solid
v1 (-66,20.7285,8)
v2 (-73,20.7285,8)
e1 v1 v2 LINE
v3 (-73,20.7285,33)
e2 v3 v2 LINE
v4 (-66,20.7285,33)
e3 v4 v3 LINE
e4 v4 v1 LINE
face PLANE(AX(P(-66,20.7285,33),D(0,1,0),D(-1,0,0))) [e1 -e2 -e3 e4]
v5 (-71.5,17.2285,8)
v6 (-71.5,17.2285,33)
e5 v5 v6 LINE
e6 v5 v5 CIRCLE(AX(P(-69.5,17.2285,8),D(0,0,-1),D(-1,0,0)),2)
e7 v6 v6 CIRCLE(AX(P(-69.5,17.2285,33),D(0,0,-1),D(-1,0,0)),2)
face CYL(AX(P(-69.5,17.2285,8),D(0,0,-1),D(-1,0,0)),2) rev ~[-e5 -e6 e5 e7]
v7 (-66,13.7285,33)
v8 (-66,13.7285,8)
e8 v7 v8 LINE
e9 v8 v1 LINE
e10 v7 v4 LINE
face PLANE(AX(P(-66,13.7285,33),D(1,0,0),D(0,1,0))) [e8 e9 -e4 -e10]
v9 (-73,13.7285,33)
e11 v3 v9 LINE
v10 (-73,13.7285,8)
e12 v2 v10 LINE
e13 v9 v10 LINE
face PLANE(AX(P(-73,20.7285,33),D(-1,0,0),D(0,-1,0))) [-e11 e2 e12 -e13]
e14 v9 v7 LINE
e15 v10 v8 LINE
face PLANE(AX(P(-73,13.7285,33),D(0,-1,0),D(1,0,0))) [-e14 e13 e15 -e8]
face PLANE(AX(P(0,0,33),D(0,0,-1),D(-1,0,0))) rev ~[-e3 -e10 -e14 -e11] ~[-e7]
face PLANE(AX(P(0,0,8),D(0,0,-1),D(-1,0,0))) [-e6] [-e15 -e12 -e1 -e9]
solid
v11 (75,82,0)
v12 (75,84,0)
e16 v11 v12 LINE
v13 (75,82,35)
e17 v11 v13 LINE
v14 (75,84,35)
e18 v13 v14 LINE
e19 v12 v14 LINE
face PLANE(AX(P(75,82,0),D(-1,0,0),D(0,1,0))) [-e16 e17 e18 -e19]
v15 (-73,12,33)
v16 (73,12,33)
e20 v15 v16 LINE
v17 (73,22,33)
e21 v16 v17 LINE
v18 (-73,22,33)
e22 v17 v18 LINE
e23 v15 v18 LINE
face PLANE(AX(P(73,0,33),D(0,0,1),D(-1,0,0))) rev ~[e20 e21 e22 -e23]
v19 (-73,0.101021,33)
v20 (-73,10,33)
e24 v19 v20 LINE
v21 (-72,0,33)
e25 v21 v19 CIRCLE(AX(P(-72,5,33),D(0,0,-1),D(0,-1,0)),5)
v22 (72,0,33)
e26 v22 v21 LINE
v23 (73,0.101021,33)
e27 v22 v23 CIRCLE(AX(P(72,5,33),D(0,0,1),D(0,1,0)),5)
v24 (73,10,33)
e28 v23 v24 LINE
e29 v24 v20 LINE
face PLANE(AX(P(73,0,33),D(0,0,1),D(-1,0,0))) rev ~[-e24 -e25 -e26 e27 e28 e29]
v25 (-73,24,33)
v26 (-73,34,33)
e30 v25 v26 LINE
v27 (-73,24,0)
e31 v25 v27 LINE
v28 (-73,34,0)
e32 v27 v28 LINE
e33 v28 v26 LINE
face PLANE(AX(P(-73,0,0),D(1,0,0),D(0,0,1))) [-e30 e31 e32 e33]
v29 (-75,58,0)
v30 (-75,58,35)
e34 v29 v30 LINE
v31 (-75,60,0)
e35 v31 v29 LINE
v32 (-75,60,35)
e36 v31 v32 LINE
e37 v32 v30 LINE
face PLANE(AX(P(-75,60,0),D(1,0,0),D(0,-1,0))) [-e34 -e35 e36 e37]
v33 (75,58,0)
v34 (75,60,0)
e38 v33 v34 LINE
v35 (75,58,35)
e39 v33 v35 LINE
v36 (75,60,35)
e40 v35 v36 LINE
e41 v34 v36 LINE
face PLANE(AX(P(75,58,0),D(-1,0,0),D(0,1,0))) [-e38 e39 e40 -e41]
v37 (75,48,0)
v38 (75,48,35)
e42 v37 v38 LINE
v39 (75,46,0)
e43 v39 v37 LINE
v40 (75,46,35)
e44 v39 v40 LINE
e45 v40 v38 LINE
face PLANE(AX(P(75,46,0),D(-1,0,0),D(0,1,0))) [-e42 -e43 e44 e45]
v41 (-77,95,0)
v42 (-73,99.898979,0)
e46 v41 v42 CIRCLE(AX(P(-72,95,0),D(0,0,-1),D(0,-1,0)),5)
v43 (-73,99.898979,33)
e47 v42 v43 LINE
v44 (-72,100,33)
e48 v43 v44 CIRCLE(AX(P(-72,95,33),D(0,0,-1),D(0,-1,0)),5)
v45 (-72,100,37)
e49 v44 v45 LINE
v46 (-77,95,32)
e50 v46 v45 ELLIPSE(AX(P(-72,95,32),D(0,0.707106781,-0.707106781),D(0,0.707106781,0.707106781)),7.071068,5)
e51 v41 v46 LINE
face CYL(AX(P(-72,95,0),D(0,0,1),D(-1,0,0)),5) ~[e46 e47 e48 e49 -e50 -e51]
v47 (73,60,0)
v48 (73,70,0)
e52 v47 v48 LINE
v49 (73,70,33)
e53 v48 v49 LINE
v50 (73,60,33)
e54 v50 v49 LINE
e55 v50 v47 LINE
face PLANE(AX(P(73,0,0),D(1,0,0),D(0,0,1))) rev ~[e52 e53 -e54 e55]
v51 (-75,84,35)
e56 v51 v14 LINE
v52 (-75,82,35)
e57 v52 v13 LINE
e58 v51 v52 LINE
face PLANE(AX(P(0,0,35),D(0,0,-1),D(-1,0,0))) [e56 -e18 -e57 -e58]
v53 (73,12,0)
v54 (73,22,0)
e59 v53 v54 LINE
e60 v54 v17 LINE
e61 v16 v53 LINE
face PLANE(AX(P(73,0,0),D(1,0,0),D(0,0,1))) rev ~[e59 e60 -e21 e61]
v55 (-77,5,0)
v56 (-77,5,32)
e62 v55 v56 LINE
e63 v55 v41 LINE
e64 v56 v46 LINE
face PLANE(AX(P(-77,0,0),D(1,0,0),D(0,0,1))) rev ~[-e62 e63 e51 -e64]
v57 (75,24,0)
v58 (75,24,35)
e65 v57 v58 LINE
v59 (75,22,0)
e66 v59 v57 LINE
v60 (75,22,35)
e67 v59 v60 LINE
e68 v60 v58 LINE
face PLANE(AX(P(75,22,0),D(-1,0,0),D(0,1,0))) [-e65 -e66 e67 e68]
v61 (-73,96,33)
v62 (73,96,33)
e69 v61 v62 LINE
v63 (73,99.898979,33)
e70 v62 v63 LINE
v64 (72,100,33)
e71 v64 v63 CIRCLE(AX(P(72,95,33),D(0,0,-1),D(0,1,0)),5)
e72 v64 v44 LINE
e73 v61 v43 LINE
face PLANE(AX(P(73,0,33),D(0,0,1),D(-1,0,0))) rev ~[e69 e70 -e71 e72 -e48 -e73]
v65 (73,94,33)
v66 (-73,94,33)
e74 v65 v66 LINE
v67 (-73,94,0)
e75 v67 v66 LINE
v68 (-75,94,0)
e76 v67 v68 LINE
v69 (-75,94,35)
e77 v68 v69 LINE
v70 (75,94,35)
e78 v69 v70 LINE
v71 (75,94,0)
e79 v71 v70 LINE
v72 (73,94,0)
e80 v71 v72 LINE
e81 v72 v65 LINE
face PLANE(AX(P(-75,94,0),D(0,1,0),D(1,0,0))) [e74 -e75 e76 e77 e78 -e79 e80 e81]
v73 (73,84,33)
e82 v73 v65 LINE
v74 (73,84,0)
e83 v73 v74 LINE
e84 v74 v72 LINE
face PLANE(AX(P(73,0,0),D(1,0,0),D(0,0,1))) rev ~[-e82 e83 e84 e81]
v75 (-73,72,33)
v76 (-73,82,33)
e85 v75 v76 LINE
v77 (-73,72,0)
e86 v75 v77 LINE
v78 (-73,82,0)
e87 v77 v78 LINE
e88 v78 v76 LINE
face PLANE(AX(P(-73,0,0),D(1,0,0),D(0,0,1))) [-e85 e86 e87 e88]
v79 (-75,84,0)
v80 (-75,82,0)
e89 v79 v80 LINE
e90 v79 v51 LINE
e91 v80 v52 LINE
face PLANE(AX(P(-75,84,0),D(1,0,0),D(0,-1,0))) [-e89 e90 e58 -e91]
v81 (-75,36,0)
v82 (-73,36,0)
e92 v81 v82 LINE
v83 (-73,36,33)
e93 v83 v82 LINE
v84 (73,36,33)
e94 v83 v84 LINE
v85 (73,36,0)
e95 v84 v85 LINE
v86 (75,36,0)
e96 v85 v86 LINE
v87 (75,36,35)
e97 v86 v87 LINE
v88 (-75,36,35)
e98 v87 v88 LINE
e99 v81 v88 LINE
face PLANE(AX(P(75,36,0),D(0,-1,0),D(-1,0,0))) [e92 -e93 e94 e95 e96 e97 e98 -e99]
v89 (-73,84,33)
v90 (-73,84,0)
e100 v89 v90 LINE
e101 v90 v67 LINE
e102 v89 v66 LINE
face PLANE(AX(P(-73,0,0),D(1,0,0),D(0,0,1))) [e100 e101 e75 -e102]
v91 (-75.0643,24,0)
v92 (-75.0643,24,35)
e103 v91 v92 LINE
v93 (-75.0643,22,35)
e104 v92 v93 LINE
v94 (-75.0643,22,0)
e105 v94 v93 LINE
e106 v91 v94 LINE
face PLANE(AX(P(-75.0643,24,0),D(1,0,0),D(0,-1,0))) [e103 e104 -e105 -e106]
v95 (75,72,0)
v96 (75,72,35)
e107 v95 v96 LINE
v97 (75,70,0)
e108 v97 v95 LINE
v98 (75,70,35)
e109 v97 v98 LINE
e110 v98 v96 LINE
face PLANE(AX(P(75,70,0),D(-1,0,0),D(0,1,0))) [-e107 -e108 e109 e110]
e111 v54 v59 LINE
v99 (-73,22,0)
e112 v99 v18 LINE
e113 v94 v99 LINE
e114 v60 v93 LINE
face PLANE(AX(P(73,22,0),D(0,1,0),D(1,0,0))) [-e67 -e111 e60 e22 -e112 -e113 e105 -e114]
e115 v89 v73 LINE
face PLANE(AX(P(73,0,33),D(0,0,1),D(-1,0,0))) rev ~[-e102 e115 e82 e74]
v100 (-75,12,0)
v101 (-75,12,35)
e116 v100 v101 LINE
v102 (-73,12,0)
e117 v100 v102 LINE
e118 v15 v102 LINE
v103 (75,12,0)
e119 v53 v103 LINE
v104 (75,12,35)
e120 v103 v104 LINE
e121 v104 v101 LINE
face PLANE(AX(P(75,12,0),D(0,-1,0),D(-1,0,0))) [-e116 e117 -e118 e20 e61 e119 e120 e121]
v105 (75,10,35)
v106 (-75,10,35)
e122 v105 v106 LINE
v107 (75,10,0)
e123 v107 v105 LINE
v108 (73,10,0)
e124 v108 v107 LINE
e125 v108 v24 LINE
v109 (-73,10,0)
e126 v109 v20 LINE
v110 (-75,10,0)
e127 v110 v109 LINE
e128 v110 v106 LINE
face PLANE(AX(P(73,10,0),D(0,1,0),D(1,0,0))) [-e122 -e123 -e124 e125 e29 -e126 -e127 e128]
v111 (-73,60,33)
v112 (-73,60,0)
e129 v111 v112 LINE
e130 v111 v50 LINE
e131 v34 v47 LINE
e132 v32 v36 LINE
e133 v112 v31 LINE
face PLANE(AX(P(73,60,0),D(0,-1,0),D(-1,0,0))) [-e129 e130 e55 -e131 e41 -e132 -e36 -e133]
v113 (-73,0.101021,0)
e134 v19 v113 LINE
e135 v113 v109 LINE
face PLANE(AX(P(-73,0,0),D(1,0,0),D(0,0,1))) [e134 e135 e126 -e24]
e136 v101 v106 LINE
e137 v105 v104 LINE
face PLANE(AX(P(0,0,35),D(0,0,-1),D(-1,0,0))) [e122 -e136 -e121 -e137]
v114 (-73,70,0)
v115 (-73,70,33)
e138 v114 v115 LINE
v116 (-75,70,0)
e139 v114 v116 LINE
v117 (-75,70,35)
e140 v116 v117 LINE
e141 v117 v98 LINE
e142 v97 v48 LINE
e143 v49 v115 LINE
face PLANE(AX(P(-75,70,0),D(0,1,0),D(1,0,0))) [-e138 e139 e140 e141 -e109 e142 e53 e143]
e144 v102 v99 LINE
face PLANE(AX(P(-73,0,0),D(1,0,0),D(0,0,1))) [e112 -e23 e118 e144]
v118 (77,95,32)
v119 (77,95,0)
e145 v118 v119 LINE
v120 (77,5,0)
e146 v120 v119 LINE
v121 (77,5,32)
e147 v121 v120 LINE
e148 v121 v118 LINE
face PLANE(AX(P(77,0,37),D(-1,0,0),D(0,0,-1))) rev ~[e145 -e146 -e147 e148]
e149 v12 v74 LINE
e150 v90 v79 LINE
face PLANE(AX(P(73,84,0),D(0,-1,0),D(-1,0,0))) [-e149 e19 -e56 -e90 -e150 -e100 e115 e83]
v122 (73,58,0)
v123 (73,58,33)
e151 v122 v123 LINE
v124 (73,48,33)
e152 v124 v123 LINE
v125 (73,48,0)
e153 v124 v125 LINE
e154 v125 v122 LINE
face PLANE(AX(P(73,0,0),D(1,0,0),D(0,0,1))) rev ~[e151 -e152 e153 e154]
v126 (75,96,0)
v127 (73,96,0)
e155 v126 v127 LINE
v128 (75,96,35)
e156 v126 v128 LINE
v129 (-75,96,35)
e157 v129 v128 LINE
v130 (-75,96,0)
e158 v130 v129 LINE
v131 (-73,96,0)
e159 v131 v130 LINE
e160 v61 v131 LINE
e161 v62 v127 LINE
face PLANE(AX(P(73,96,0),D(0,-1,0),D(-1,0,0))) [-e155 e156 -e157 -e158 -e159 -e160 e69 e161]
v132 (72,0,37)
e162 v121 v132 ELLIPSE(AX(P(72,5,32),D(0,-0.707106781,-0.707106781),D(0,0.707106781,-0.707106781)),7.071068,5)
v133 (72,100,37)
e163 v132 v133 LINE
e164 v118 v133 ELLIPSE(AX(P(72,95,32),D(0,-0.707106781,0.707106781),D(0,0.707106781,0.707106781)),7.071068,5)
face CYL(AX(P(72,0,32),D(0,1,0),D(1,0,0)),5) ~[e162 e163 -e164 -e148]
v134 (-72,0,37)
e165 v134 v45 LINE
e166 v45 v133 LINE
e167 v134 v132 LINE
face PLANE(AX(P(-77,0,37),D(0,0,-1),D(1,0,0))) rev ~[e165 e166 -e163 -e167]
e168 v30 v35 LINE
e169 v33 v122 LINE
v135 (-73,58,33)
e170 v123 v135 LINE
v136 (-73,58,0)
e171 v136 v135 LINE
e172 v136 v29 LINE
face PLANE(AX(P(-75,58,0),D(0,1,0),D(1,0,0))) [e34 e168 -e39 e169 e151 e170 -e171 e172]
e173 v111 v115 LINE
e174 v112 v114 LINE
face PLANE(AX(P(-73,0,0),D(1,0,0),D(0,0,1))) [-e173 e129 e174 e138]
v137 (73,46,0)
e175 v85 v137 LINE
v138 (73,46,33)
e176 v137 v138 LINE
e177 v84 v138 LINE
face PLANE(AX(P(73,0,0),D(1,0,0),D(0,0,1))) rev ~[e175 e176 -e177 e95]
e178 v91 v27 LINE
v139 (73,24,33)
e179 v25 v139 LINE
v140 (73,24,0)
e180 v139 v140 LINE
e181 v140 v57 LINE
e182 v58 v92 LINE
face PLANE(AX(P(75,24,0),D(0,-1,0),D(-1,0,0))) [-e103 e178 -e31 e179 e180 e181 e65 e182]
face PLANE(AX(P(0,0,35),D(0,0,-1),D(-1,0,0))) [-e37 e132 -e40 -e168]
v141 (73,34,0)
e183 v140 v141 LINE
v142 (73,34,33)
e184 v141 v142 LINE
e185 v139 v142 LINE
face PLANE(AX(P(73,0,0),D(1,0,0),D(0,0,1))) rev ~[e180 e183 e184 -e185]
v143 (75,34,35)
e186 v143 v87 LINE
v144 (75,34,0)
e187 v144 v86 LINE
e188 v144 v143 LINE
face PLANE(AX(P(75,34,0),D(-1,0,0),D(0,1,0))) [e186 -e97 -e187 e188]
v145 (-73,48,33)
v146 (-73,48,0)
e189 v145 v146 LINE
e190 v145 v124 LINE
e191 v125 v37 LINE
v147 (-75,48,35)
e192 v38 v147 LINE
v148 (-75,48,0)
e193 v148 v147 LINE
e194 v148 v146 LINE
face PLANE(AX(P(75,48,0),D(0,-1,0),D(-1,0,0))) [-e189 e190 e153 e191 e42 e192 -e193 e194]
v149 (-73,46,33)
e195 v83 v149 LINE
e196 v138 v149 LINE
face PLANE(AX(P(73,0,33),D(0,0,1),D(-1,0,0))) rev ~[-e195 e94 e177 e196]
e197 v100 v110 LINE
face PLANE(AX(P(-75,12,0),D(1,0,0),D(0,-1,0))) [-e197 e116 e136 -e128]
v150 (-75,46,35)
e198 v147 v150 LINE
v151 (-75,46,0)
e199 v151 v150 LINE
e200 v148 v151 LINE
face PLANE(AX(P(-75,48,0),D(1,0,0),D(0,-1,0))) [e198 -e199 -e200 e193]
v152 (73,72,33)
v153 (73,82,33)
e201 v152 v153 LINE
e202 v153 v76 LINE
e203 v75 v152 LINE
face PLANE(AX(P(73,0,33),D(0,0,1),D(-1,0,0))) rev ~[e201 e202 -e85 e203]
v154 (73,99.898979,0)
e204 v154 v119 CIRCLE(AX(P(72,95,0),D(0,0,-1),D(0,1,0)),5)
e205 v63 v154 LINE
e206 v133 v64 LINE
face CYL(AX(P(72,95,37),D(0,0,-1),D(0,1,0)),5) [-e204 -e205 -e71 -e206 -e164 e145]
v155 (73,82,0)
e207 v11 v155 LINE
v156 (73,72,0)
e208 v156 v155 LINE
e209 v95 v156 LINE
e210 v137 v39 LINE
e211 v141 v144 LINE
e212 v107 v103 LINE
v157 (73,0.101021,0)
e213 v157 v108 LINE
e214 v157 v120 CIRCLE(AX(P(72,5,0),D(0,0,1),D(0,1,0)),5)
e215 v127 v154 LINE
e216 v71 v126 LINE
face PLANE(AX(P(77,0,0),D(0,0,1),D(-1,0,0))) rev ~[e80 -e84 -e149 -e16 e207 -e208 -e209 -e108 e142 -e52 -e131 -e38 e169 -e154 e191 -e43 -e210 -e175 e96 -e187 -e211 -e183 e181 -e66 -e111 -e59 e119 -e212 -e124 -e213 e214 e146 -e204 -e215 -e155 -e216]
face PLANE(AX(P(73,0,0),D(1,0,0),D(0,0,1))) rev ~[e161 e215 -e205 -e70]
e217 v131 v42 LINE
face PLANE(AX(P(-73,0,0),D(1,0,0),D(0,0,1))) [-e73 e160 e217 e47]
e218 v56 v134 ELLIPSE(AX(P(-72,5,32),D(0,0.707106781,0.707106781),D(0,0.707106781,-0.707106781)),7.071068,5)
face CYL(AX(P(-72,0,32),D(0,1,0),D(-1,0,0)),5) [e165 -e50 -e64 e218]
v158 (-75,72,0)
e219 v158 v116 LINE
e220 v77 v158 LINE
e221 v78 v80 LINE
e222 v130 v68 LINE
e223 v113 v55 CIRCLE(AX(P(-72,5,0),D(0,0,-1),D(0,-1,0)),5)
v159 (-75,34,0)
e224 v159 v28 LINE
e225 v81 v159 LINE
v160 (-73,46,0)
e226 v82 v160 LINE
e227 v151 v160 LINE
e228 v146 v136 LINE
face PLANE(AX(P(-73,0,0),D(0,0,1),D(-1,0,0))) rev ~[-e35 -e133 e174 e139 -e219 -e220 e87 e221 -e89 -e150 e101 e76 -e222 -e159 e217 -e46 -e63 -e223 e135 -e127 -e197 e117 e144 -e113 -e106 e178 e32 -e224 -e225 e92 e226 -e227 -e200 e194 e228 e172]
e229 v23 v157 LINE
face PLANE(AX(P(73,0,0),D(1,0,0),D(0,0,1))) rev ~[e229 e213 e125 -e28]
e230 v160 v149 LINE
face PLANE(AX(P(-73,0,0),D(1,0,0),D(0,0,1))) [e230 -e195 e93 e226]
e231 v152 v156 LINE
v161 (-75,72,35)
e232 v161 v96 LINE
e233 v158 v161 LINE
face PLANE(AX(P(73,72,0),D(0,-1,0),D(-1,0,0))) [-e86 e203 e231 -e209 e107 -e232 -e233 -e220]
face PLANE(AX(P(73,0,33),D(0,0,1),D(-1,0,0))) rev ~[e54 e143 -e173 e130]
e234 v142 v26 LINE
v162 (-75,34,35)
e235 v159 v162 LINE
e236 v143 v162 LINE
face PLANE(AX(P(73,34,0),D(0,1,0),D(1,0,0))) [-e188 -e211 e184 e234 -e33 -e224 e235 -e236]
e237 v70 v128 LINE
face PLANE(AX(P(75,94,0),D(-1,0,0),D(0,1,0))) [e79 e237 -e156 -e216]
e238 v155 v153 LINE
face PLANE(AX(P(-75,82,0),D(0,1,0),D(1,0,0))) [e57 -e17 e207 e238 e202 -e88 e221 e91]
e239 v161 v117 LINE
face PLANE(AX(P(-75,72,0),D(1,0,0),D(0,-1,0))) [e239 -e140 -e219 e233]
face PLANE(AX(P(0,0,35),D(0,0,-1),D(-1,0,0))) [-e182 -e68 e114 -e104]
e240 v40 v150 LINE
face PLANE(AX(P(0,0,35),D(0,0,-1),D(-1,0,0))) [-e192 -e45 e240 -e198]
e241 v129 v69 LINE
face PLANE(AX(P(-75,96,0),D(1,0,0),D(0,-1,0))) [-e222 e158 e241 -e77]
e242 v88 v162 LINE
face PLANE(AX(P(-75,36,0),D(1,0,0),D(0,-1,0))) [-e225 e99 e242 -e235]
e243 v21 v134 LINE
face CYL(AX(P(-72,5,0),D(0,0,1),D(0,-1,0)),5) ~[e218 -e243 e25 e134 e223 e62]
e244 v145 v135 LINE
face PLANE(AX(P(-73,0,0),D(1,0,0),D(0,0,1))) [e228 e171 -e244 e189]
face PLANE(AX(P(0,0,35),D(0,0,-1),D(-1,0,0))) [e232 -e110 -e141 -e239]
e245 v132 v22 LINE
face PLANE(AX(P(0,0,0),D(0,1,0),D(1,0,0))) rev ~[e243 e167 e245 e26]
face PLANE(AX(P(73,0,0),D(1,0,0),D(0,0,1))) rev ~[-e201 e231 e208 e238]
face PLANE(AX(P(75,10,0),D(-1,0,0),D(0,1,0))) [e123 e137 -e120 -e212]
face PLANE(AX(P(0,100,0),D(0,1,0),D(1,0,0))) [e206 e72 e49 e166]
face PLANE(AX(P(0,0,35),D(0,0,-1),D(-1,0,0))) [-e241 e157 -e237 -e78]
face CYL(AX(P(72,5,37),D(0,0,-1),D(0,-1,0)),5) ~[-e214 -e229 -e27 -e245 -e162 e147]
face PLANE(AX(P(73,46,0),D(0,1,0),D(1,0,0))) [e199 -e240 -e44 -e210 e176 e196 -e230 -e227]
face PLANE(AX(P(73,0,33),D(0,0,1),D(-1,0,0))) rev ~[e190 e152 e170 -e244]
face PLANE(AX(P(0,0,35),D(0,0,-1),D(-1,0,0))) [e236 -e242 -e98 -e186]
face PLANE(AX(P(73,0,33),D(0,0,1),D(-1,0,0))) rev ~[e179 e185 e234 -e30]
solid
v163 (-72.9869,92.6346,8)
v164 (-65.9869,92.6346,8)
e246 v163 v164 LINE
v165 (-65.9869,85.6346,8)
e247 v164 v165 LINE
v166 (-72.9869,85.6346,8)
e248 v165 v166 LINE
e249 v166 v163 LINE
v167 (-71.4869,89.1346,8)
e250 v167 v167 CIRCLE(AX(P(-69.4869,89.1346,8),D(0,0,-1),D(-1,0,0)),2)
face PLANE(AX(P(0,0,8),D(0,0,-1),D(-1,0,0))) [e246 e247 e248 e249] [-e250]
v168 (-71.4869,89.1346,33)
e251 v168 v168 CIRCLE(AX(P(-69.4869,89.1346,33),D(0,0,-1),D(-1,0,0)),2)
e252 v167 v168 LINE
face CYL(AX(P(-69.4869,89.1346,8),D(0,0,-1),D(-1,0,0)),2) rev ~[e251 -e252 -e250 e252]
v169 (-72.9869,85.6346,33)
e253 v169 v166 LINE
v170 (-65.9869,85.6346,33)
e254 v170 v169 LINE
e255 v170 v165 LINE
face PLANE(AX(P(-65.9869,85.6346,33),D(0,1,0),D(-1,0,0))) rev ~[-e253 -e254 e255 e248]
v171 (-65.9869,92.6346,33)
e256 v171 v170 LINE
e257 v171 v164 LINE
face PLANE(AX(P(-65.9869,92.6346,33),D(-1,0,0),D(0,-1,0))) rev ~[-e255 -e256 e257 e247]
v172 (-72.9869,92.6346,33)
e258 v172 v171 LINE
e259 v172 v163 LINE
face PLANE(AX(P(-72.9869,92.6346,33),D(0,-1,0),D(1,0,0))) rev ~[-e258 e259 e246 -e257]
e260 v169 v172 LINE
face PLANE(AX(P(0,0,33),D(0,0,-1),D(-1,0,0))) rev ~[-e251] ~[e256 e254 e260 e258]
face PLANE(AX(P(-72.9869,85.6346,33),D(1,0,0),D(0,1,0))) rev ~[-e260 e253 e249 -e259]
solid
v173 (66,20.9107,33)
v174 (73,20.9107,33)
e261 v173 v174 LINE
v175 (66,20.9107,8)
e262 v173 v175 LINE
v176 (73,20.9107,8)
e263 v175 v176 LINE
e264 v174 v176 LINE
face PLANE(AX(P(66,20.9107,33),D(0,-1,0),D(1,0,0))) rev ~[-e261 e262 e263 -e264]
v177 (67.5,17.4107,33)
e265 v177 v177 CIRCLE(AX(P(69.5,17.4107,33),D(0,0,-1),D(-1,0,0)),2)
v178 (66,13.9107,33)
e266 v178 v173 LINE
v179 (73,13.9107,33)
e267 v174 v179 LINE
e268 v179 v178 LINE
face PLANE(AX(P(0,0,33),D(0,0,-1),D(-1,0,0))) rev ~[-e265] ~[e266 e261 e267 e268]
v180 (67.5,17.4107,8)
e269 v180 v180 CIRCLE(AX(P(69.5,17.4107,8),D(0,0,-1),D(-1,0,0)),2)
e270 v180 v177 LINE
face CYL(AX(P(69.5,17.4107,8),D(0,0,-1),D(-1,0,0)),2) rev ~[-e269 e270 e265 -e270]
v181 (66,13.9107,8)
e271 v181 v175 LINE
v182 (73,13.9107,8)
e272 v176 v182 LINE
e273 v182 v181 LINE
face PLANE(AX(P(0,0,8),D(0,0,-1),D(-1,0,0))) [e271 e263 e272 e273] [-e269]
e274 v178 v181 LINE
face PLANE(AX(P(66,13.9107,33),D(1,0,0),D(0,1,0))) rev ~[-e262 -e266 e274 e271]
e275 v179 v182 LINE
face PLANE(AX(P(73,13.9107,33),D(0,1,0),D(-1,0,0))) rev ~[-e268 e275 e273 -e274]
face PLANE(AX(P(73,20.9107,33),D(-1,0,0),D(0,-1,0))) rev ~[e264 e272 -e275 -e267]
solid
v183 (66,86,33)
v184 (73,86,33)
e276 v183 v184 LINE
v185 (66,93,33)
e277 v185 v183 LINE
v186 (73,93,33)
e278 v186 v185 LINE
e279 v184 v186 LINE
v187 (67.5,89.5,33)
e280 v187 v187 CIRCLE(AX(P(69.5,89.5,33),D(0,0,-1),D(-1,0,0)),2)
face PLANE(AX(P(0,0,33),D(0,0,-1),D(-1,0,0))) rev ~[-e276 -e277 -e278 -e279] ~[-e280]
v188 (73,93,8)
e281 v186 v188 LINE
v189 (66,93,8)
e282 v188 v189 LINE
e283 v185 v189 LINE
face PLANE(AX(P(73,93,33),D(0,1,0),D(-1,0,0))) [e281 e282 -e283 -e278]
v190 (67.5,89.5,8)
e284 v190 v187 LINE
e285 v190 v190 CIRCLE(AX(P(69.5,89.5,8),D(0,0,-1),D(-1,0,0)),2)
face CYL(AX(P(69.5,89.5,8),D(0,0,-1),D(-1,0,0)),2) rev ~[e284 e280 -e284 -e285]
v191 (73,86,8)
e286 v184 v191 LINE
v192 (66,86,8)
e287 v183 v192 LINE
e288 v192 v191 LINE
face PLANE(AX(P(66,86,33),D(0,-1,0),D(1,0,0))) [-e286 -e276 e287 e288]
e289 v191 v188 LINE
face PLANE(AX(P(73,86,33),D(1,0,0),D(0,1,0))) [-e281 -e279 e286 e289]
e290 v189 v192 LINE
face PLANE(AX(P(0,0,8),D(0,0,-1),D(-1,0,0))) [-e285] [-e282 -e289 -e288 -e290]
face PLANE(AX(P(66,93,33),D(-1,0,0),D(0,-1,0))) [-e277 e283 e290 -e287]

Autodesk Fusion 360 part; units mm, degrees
sketch "Skizze1" plane through (0, 0, 0) normal (0, 1, 0) x (1, 0, 0)
  line L0 (75, 35) -> (75, -35) construction
  line L1 (75, -35) -> (-75, -35) construction
  line L2 (-75, -35) -> (-75, 35) construction
  line L3 (-75, 35) -> (75, -35) construction
  line L4 (75, 35) -> (-75, -35) construction
  line L5 (73, 33) -> (73, -33) construction
  line L6 (73, -33) -> (-73, -33) construction
  line L7 (-73, -33) -> (-73, 33) construction
  line L8 (-73, 33) -> (73, -33) construction
  line L9 (73, 33) -> (-73, -33) construction
  line L10 (77, 37) -> (77, -37) construction
  line L11 (77, -37) -> (-77, -37) construction
  line L12 (-77, -37) -> (-77, 37) construction
  line L13 (-77, 37) -> (77, -37) construction
  line L14 (77, 37) -> (-77, -37) construction
  line L15 (-77, 0) -> (-77, -37)
  line L16 (-77, -37) -> (77, -37)
  line L17 (77, -37) -> (77, 0)
  line L18 (77, 0) -> (73, 0)
  line L19 (73, -33) -> (-73, -33)
  line L20 (-73, 0) -> (-73, -33)
  line L21 (-73, 0) -> (-77, 0)
  line L22 (73, 0) -> (73, -33)
  dimension "d1" = 150
  dimension "d2" = 70
  dimension "d3" = 146
  dimension "d4" = 66
  dimension "d5" = 154
  dimension "d6" = 74
extrude "Extrusion1" add sketch "Skizze1" along normal blind 100 makes body 1
sketch "Skizze2" plane through (0, 0, 0) normal (0, 0, -1) x (-1, 0, 0)
  line L0 (-77, 0) -> (-73, 0)
  line L1 (-73, 0) -> (-73, 100)
  line L2 (-73, 100) -> (-77, 100)
  line L3 (-77, 100) -> (-77, 0)
  line L4 (-75, 12) -> (75, 12)
  line L5 (75, 12) -> (75, 10)
  line L6 (75, 10) -> (-75, 10)
  line L7 (-75, 10) -> (-75, 12)
  line L8 (-75, 24) -> (75.0643, 24)
  line L9 (75.0643, 24) -> (75.0643, 22)
  line L10 (75.0643, 22) -> (-75, 22)
  line L11 (-75, 22) -> (-75, 24)
  line L12 (-73, 0) -> (73, 0)
  line L13 (-75, 96) -> (75, 96)
  line L14 (75, 96) -> (75, 94)
  line L15 (75, 94) -> (-75, 94)
  line L16 (-75, 94) -> (-75, 96)
  line L17 (-73, 100) -> (73, 100)
  line L18 (75, 34) -> (-75, 34)
  line L19 (-75, 34) -> (-75, 36)
  line L20 (-75, 36) -> (75, 36)
  line L21 (75, 36) -> (75, 34)
  line L22 (75, 46) -> (-75, 46)
  line L23 (-75, 46) -> (-75, 48)
  line L24 (-75, 48) -> (75, 48)
  line L25 (75, 48) -> (75, 46)
  line L26 (75, 58) -> (-75, 58)
  line L27 (-75, 58) -> (-75, 60)
  line L28 (-75, 60) -> (75, 60)
  line L29 (75, 60) -> (75, 58)
  line L30 (75, 70) -> (-75, 70)
  line L31 (-75, 70) -> (-75, 72)
  line L32 (-75, 72) -> (75, 72)
  line L33 (75, 72) -> (75, 70)
  line L34 (75, 82) -> (-75, 82)
  line L35 (-75, 82) -> (-75, 84)
  line L36 (-75, 84) -> (75, 84)
  line L37 (75, 84) -> (75, 82)
  dimension "d11" = 10
  dimension "d12" = 2
  dimension "d14" = 2
  dimension "d45" = 2
  dimension "d46" = 2
  dimension "d47" = 2
  dimension "d48" = 2
  dimension "d49" = 2
  dimension "d50" = 10
  dimension "d51" = 10
  dimension "d52" = 10
  dimension "d53" = 10
  dimension "d54" = 10
  dimension "d55" = 2
  dimension "d57" = 10
  dimension "d59" = 4
extrude "Extrusion4" cut sketch "Skizze2" against normal blind 35 contours L1 L4 L6 L7 | L1 L4 L5 L6 | L1 L13 L14 L15 | L1 L13 L15 L16 | L1 L8 L10 L11 | L1 L8 L9 L10 | L1 L34 L36 L37 | L1 L34 L35 L36 | L1 L18 L19 L20 | L1 L18 L20 L21 | L1 L30 L32 L33 | L1 L30 L31 L32 | L1 L22 L23 L24 | L1 L22 L24 L25 | L1 L26 L28 L29 | L1 L26 L27 L28 bodies 1
sketch "Skizze3" plane through (0, 0, 33) normal (0, 0, -1) x (-1, 0, 0)
  line L0 (-73, 24) -> (73, 24)
  line L1 (73, 24) -> (73, 34)
  line L2 (73, 94) -> (-73, 94)
  line L3 (-73, 34) -> (-73, 24)
  line L4 (-73, 0) -> (-73, 100) construction
  line L5 (75, 94) -> (-75, 94) construction
  line L6 (73, 34) -> (-73, 34)
  line L7 (-73, 84) -> (73, 84)
  line L8 (73, 84) -> (73, 94)
  line L9 (-73, 94) -> (-73, 84)
sketch "Skizze4" plane through (0, 0, 33) normal (0, 0, -1) x (-1, 0, 0)
  line L0 (-73, 93) -> (-66, 93)
  line L1 (-66, 93) -> (-66, 86)
  line L2 (-66, 86) -> (-73, 86)
  line L3 (-73, 86) -> (-73, 93)
  line L4 (-73, 13.9107) -> (-66, 13.9107)
  line L5 (-66, 13.9107) -> (-66, 20.9107)
  line L6 (-66, 20.9107) -> (-73, 20.9107)
  line L7 (-73, 20.9107) -> (-73, 13.9107)
  line L8 (73, 13.7285) -> (66, 13.7285)
  line L9 (66, 13.7285) -> (66, 20.7285)
  line L10 (66, 20.7285) -> (73, 20.7285)
  line L11 (73, 20.7285) -> (73, 13.7285)
  line L12 (72.9869, 92.6346) -> (65.9869, 92.6346)
  line L13 (65.9869, 92.6346) -> (65.9869, 85.6346)
  line L14 (65.9869, 85.6346) -> (72.9869, 85.6346)
  line L15 (72.9869, 85.6346) -> (72.9869, 92.6346)
  dimension "d29" = 7
  dimension "d30" = 7
  dimension "d33" = 7
  dimension "d34" = 7
  dimension "d35" = 7
  dimension "d36" = 7
extrude "Extrusion5" add sketch "Skizze4" along normal blind 25 separate body makes body 2 at (73, 18.5774, 24.6667) makes body 3 at (-68.3203, 85.6346, 24.6667) makes body 4 at (70.6667, 93, 24.6667) makes body 5 at (-66, 16.0618, 24.6667)
sketch "Skizze5" plane through (0, 0, 8) normal (0, 0, -1) x (-1, 0, 0)
  line L0 (-73, 86) -> (-66, 86)
  line L1 (-66, 86) -> (-66, 93)
  line L2 (-66, 93) -> (-73, 93)
  line L3 (-73, 93) -> (-73, 86)
  circle A0 centre (-69.5, 89.5) radius 2
  dimension "d39" = 4
sketch "Skizze6" plane through (0, 0, 8) normal (0, 0, -1) x (-1, 0, 0)
  line L0 (-73, 20.9107) -> (-73, 13.9107)
  line L1 (-73, 13.9107) -> (-66, 13.9107)
  line L2 (-66, 13.9107) -> (-66, 20.9107)
  line L3 (-66, 20.9107) -> (-73, 20.9107)
  circle A0 centre (-69.5, 17.4107) radius 2
  dimension "d40" = 4
  dimension "d61" = 3.5
sketch "Skizze7" plane through (0, 0, 8) normal (0, 0, -1) x (-1, 0, 0)
  line L0 (73, 20.7285) -> (66, 20.7285)
  line L1 (66, 20.7285) -> (66, 13.7285)
  line L2 (66, 13.7285) -> (73, 13.7285)
  line L3 (73, 13.7285) -> (73, 20.7285)
  circle A0 centre (69.5, 17.2285) radius 2
  dimension "d60" = 3.5
  dimension "d64" = 4
sketch "Skizze8" plane through (0, 0, 8) normal (0, 0, -1) x (-1, 0, 0)
  line L0 (72.9869, 85.6346) -> (72.9869, 92.6346)
  line L1 (72.9869, 92.6346) -> (65.9869, 92.6346)
  line L2 (65.9869, 92.6346) -> (65.9869, 85.6346)
  line L3 (65.9869, 85.6346) -> (72.9869, 85.6346)
  circle A0 centre (69.4869, 89.1346) radius 2
  dimension "d41" = 4
extrude "Extrusion6" cut sketch "Skizze8" sketch "Skizze7" sketch "Skizze6" sketch "Skizze5" against normal blind 25 contours A0 of sketch 2 contours A0 of sketch 3 contours A0 of sketch 4 contours A0 bodies 2 3 4 5
fillet "Abrundung1" radius 5 6 edges at (77, 50, 37) (-77, 50, 37) (-77, 0, 18.5) (77, 0, 18.5) (77, 100, 18.5) (-77, 100, 18.5) on bodies 1
